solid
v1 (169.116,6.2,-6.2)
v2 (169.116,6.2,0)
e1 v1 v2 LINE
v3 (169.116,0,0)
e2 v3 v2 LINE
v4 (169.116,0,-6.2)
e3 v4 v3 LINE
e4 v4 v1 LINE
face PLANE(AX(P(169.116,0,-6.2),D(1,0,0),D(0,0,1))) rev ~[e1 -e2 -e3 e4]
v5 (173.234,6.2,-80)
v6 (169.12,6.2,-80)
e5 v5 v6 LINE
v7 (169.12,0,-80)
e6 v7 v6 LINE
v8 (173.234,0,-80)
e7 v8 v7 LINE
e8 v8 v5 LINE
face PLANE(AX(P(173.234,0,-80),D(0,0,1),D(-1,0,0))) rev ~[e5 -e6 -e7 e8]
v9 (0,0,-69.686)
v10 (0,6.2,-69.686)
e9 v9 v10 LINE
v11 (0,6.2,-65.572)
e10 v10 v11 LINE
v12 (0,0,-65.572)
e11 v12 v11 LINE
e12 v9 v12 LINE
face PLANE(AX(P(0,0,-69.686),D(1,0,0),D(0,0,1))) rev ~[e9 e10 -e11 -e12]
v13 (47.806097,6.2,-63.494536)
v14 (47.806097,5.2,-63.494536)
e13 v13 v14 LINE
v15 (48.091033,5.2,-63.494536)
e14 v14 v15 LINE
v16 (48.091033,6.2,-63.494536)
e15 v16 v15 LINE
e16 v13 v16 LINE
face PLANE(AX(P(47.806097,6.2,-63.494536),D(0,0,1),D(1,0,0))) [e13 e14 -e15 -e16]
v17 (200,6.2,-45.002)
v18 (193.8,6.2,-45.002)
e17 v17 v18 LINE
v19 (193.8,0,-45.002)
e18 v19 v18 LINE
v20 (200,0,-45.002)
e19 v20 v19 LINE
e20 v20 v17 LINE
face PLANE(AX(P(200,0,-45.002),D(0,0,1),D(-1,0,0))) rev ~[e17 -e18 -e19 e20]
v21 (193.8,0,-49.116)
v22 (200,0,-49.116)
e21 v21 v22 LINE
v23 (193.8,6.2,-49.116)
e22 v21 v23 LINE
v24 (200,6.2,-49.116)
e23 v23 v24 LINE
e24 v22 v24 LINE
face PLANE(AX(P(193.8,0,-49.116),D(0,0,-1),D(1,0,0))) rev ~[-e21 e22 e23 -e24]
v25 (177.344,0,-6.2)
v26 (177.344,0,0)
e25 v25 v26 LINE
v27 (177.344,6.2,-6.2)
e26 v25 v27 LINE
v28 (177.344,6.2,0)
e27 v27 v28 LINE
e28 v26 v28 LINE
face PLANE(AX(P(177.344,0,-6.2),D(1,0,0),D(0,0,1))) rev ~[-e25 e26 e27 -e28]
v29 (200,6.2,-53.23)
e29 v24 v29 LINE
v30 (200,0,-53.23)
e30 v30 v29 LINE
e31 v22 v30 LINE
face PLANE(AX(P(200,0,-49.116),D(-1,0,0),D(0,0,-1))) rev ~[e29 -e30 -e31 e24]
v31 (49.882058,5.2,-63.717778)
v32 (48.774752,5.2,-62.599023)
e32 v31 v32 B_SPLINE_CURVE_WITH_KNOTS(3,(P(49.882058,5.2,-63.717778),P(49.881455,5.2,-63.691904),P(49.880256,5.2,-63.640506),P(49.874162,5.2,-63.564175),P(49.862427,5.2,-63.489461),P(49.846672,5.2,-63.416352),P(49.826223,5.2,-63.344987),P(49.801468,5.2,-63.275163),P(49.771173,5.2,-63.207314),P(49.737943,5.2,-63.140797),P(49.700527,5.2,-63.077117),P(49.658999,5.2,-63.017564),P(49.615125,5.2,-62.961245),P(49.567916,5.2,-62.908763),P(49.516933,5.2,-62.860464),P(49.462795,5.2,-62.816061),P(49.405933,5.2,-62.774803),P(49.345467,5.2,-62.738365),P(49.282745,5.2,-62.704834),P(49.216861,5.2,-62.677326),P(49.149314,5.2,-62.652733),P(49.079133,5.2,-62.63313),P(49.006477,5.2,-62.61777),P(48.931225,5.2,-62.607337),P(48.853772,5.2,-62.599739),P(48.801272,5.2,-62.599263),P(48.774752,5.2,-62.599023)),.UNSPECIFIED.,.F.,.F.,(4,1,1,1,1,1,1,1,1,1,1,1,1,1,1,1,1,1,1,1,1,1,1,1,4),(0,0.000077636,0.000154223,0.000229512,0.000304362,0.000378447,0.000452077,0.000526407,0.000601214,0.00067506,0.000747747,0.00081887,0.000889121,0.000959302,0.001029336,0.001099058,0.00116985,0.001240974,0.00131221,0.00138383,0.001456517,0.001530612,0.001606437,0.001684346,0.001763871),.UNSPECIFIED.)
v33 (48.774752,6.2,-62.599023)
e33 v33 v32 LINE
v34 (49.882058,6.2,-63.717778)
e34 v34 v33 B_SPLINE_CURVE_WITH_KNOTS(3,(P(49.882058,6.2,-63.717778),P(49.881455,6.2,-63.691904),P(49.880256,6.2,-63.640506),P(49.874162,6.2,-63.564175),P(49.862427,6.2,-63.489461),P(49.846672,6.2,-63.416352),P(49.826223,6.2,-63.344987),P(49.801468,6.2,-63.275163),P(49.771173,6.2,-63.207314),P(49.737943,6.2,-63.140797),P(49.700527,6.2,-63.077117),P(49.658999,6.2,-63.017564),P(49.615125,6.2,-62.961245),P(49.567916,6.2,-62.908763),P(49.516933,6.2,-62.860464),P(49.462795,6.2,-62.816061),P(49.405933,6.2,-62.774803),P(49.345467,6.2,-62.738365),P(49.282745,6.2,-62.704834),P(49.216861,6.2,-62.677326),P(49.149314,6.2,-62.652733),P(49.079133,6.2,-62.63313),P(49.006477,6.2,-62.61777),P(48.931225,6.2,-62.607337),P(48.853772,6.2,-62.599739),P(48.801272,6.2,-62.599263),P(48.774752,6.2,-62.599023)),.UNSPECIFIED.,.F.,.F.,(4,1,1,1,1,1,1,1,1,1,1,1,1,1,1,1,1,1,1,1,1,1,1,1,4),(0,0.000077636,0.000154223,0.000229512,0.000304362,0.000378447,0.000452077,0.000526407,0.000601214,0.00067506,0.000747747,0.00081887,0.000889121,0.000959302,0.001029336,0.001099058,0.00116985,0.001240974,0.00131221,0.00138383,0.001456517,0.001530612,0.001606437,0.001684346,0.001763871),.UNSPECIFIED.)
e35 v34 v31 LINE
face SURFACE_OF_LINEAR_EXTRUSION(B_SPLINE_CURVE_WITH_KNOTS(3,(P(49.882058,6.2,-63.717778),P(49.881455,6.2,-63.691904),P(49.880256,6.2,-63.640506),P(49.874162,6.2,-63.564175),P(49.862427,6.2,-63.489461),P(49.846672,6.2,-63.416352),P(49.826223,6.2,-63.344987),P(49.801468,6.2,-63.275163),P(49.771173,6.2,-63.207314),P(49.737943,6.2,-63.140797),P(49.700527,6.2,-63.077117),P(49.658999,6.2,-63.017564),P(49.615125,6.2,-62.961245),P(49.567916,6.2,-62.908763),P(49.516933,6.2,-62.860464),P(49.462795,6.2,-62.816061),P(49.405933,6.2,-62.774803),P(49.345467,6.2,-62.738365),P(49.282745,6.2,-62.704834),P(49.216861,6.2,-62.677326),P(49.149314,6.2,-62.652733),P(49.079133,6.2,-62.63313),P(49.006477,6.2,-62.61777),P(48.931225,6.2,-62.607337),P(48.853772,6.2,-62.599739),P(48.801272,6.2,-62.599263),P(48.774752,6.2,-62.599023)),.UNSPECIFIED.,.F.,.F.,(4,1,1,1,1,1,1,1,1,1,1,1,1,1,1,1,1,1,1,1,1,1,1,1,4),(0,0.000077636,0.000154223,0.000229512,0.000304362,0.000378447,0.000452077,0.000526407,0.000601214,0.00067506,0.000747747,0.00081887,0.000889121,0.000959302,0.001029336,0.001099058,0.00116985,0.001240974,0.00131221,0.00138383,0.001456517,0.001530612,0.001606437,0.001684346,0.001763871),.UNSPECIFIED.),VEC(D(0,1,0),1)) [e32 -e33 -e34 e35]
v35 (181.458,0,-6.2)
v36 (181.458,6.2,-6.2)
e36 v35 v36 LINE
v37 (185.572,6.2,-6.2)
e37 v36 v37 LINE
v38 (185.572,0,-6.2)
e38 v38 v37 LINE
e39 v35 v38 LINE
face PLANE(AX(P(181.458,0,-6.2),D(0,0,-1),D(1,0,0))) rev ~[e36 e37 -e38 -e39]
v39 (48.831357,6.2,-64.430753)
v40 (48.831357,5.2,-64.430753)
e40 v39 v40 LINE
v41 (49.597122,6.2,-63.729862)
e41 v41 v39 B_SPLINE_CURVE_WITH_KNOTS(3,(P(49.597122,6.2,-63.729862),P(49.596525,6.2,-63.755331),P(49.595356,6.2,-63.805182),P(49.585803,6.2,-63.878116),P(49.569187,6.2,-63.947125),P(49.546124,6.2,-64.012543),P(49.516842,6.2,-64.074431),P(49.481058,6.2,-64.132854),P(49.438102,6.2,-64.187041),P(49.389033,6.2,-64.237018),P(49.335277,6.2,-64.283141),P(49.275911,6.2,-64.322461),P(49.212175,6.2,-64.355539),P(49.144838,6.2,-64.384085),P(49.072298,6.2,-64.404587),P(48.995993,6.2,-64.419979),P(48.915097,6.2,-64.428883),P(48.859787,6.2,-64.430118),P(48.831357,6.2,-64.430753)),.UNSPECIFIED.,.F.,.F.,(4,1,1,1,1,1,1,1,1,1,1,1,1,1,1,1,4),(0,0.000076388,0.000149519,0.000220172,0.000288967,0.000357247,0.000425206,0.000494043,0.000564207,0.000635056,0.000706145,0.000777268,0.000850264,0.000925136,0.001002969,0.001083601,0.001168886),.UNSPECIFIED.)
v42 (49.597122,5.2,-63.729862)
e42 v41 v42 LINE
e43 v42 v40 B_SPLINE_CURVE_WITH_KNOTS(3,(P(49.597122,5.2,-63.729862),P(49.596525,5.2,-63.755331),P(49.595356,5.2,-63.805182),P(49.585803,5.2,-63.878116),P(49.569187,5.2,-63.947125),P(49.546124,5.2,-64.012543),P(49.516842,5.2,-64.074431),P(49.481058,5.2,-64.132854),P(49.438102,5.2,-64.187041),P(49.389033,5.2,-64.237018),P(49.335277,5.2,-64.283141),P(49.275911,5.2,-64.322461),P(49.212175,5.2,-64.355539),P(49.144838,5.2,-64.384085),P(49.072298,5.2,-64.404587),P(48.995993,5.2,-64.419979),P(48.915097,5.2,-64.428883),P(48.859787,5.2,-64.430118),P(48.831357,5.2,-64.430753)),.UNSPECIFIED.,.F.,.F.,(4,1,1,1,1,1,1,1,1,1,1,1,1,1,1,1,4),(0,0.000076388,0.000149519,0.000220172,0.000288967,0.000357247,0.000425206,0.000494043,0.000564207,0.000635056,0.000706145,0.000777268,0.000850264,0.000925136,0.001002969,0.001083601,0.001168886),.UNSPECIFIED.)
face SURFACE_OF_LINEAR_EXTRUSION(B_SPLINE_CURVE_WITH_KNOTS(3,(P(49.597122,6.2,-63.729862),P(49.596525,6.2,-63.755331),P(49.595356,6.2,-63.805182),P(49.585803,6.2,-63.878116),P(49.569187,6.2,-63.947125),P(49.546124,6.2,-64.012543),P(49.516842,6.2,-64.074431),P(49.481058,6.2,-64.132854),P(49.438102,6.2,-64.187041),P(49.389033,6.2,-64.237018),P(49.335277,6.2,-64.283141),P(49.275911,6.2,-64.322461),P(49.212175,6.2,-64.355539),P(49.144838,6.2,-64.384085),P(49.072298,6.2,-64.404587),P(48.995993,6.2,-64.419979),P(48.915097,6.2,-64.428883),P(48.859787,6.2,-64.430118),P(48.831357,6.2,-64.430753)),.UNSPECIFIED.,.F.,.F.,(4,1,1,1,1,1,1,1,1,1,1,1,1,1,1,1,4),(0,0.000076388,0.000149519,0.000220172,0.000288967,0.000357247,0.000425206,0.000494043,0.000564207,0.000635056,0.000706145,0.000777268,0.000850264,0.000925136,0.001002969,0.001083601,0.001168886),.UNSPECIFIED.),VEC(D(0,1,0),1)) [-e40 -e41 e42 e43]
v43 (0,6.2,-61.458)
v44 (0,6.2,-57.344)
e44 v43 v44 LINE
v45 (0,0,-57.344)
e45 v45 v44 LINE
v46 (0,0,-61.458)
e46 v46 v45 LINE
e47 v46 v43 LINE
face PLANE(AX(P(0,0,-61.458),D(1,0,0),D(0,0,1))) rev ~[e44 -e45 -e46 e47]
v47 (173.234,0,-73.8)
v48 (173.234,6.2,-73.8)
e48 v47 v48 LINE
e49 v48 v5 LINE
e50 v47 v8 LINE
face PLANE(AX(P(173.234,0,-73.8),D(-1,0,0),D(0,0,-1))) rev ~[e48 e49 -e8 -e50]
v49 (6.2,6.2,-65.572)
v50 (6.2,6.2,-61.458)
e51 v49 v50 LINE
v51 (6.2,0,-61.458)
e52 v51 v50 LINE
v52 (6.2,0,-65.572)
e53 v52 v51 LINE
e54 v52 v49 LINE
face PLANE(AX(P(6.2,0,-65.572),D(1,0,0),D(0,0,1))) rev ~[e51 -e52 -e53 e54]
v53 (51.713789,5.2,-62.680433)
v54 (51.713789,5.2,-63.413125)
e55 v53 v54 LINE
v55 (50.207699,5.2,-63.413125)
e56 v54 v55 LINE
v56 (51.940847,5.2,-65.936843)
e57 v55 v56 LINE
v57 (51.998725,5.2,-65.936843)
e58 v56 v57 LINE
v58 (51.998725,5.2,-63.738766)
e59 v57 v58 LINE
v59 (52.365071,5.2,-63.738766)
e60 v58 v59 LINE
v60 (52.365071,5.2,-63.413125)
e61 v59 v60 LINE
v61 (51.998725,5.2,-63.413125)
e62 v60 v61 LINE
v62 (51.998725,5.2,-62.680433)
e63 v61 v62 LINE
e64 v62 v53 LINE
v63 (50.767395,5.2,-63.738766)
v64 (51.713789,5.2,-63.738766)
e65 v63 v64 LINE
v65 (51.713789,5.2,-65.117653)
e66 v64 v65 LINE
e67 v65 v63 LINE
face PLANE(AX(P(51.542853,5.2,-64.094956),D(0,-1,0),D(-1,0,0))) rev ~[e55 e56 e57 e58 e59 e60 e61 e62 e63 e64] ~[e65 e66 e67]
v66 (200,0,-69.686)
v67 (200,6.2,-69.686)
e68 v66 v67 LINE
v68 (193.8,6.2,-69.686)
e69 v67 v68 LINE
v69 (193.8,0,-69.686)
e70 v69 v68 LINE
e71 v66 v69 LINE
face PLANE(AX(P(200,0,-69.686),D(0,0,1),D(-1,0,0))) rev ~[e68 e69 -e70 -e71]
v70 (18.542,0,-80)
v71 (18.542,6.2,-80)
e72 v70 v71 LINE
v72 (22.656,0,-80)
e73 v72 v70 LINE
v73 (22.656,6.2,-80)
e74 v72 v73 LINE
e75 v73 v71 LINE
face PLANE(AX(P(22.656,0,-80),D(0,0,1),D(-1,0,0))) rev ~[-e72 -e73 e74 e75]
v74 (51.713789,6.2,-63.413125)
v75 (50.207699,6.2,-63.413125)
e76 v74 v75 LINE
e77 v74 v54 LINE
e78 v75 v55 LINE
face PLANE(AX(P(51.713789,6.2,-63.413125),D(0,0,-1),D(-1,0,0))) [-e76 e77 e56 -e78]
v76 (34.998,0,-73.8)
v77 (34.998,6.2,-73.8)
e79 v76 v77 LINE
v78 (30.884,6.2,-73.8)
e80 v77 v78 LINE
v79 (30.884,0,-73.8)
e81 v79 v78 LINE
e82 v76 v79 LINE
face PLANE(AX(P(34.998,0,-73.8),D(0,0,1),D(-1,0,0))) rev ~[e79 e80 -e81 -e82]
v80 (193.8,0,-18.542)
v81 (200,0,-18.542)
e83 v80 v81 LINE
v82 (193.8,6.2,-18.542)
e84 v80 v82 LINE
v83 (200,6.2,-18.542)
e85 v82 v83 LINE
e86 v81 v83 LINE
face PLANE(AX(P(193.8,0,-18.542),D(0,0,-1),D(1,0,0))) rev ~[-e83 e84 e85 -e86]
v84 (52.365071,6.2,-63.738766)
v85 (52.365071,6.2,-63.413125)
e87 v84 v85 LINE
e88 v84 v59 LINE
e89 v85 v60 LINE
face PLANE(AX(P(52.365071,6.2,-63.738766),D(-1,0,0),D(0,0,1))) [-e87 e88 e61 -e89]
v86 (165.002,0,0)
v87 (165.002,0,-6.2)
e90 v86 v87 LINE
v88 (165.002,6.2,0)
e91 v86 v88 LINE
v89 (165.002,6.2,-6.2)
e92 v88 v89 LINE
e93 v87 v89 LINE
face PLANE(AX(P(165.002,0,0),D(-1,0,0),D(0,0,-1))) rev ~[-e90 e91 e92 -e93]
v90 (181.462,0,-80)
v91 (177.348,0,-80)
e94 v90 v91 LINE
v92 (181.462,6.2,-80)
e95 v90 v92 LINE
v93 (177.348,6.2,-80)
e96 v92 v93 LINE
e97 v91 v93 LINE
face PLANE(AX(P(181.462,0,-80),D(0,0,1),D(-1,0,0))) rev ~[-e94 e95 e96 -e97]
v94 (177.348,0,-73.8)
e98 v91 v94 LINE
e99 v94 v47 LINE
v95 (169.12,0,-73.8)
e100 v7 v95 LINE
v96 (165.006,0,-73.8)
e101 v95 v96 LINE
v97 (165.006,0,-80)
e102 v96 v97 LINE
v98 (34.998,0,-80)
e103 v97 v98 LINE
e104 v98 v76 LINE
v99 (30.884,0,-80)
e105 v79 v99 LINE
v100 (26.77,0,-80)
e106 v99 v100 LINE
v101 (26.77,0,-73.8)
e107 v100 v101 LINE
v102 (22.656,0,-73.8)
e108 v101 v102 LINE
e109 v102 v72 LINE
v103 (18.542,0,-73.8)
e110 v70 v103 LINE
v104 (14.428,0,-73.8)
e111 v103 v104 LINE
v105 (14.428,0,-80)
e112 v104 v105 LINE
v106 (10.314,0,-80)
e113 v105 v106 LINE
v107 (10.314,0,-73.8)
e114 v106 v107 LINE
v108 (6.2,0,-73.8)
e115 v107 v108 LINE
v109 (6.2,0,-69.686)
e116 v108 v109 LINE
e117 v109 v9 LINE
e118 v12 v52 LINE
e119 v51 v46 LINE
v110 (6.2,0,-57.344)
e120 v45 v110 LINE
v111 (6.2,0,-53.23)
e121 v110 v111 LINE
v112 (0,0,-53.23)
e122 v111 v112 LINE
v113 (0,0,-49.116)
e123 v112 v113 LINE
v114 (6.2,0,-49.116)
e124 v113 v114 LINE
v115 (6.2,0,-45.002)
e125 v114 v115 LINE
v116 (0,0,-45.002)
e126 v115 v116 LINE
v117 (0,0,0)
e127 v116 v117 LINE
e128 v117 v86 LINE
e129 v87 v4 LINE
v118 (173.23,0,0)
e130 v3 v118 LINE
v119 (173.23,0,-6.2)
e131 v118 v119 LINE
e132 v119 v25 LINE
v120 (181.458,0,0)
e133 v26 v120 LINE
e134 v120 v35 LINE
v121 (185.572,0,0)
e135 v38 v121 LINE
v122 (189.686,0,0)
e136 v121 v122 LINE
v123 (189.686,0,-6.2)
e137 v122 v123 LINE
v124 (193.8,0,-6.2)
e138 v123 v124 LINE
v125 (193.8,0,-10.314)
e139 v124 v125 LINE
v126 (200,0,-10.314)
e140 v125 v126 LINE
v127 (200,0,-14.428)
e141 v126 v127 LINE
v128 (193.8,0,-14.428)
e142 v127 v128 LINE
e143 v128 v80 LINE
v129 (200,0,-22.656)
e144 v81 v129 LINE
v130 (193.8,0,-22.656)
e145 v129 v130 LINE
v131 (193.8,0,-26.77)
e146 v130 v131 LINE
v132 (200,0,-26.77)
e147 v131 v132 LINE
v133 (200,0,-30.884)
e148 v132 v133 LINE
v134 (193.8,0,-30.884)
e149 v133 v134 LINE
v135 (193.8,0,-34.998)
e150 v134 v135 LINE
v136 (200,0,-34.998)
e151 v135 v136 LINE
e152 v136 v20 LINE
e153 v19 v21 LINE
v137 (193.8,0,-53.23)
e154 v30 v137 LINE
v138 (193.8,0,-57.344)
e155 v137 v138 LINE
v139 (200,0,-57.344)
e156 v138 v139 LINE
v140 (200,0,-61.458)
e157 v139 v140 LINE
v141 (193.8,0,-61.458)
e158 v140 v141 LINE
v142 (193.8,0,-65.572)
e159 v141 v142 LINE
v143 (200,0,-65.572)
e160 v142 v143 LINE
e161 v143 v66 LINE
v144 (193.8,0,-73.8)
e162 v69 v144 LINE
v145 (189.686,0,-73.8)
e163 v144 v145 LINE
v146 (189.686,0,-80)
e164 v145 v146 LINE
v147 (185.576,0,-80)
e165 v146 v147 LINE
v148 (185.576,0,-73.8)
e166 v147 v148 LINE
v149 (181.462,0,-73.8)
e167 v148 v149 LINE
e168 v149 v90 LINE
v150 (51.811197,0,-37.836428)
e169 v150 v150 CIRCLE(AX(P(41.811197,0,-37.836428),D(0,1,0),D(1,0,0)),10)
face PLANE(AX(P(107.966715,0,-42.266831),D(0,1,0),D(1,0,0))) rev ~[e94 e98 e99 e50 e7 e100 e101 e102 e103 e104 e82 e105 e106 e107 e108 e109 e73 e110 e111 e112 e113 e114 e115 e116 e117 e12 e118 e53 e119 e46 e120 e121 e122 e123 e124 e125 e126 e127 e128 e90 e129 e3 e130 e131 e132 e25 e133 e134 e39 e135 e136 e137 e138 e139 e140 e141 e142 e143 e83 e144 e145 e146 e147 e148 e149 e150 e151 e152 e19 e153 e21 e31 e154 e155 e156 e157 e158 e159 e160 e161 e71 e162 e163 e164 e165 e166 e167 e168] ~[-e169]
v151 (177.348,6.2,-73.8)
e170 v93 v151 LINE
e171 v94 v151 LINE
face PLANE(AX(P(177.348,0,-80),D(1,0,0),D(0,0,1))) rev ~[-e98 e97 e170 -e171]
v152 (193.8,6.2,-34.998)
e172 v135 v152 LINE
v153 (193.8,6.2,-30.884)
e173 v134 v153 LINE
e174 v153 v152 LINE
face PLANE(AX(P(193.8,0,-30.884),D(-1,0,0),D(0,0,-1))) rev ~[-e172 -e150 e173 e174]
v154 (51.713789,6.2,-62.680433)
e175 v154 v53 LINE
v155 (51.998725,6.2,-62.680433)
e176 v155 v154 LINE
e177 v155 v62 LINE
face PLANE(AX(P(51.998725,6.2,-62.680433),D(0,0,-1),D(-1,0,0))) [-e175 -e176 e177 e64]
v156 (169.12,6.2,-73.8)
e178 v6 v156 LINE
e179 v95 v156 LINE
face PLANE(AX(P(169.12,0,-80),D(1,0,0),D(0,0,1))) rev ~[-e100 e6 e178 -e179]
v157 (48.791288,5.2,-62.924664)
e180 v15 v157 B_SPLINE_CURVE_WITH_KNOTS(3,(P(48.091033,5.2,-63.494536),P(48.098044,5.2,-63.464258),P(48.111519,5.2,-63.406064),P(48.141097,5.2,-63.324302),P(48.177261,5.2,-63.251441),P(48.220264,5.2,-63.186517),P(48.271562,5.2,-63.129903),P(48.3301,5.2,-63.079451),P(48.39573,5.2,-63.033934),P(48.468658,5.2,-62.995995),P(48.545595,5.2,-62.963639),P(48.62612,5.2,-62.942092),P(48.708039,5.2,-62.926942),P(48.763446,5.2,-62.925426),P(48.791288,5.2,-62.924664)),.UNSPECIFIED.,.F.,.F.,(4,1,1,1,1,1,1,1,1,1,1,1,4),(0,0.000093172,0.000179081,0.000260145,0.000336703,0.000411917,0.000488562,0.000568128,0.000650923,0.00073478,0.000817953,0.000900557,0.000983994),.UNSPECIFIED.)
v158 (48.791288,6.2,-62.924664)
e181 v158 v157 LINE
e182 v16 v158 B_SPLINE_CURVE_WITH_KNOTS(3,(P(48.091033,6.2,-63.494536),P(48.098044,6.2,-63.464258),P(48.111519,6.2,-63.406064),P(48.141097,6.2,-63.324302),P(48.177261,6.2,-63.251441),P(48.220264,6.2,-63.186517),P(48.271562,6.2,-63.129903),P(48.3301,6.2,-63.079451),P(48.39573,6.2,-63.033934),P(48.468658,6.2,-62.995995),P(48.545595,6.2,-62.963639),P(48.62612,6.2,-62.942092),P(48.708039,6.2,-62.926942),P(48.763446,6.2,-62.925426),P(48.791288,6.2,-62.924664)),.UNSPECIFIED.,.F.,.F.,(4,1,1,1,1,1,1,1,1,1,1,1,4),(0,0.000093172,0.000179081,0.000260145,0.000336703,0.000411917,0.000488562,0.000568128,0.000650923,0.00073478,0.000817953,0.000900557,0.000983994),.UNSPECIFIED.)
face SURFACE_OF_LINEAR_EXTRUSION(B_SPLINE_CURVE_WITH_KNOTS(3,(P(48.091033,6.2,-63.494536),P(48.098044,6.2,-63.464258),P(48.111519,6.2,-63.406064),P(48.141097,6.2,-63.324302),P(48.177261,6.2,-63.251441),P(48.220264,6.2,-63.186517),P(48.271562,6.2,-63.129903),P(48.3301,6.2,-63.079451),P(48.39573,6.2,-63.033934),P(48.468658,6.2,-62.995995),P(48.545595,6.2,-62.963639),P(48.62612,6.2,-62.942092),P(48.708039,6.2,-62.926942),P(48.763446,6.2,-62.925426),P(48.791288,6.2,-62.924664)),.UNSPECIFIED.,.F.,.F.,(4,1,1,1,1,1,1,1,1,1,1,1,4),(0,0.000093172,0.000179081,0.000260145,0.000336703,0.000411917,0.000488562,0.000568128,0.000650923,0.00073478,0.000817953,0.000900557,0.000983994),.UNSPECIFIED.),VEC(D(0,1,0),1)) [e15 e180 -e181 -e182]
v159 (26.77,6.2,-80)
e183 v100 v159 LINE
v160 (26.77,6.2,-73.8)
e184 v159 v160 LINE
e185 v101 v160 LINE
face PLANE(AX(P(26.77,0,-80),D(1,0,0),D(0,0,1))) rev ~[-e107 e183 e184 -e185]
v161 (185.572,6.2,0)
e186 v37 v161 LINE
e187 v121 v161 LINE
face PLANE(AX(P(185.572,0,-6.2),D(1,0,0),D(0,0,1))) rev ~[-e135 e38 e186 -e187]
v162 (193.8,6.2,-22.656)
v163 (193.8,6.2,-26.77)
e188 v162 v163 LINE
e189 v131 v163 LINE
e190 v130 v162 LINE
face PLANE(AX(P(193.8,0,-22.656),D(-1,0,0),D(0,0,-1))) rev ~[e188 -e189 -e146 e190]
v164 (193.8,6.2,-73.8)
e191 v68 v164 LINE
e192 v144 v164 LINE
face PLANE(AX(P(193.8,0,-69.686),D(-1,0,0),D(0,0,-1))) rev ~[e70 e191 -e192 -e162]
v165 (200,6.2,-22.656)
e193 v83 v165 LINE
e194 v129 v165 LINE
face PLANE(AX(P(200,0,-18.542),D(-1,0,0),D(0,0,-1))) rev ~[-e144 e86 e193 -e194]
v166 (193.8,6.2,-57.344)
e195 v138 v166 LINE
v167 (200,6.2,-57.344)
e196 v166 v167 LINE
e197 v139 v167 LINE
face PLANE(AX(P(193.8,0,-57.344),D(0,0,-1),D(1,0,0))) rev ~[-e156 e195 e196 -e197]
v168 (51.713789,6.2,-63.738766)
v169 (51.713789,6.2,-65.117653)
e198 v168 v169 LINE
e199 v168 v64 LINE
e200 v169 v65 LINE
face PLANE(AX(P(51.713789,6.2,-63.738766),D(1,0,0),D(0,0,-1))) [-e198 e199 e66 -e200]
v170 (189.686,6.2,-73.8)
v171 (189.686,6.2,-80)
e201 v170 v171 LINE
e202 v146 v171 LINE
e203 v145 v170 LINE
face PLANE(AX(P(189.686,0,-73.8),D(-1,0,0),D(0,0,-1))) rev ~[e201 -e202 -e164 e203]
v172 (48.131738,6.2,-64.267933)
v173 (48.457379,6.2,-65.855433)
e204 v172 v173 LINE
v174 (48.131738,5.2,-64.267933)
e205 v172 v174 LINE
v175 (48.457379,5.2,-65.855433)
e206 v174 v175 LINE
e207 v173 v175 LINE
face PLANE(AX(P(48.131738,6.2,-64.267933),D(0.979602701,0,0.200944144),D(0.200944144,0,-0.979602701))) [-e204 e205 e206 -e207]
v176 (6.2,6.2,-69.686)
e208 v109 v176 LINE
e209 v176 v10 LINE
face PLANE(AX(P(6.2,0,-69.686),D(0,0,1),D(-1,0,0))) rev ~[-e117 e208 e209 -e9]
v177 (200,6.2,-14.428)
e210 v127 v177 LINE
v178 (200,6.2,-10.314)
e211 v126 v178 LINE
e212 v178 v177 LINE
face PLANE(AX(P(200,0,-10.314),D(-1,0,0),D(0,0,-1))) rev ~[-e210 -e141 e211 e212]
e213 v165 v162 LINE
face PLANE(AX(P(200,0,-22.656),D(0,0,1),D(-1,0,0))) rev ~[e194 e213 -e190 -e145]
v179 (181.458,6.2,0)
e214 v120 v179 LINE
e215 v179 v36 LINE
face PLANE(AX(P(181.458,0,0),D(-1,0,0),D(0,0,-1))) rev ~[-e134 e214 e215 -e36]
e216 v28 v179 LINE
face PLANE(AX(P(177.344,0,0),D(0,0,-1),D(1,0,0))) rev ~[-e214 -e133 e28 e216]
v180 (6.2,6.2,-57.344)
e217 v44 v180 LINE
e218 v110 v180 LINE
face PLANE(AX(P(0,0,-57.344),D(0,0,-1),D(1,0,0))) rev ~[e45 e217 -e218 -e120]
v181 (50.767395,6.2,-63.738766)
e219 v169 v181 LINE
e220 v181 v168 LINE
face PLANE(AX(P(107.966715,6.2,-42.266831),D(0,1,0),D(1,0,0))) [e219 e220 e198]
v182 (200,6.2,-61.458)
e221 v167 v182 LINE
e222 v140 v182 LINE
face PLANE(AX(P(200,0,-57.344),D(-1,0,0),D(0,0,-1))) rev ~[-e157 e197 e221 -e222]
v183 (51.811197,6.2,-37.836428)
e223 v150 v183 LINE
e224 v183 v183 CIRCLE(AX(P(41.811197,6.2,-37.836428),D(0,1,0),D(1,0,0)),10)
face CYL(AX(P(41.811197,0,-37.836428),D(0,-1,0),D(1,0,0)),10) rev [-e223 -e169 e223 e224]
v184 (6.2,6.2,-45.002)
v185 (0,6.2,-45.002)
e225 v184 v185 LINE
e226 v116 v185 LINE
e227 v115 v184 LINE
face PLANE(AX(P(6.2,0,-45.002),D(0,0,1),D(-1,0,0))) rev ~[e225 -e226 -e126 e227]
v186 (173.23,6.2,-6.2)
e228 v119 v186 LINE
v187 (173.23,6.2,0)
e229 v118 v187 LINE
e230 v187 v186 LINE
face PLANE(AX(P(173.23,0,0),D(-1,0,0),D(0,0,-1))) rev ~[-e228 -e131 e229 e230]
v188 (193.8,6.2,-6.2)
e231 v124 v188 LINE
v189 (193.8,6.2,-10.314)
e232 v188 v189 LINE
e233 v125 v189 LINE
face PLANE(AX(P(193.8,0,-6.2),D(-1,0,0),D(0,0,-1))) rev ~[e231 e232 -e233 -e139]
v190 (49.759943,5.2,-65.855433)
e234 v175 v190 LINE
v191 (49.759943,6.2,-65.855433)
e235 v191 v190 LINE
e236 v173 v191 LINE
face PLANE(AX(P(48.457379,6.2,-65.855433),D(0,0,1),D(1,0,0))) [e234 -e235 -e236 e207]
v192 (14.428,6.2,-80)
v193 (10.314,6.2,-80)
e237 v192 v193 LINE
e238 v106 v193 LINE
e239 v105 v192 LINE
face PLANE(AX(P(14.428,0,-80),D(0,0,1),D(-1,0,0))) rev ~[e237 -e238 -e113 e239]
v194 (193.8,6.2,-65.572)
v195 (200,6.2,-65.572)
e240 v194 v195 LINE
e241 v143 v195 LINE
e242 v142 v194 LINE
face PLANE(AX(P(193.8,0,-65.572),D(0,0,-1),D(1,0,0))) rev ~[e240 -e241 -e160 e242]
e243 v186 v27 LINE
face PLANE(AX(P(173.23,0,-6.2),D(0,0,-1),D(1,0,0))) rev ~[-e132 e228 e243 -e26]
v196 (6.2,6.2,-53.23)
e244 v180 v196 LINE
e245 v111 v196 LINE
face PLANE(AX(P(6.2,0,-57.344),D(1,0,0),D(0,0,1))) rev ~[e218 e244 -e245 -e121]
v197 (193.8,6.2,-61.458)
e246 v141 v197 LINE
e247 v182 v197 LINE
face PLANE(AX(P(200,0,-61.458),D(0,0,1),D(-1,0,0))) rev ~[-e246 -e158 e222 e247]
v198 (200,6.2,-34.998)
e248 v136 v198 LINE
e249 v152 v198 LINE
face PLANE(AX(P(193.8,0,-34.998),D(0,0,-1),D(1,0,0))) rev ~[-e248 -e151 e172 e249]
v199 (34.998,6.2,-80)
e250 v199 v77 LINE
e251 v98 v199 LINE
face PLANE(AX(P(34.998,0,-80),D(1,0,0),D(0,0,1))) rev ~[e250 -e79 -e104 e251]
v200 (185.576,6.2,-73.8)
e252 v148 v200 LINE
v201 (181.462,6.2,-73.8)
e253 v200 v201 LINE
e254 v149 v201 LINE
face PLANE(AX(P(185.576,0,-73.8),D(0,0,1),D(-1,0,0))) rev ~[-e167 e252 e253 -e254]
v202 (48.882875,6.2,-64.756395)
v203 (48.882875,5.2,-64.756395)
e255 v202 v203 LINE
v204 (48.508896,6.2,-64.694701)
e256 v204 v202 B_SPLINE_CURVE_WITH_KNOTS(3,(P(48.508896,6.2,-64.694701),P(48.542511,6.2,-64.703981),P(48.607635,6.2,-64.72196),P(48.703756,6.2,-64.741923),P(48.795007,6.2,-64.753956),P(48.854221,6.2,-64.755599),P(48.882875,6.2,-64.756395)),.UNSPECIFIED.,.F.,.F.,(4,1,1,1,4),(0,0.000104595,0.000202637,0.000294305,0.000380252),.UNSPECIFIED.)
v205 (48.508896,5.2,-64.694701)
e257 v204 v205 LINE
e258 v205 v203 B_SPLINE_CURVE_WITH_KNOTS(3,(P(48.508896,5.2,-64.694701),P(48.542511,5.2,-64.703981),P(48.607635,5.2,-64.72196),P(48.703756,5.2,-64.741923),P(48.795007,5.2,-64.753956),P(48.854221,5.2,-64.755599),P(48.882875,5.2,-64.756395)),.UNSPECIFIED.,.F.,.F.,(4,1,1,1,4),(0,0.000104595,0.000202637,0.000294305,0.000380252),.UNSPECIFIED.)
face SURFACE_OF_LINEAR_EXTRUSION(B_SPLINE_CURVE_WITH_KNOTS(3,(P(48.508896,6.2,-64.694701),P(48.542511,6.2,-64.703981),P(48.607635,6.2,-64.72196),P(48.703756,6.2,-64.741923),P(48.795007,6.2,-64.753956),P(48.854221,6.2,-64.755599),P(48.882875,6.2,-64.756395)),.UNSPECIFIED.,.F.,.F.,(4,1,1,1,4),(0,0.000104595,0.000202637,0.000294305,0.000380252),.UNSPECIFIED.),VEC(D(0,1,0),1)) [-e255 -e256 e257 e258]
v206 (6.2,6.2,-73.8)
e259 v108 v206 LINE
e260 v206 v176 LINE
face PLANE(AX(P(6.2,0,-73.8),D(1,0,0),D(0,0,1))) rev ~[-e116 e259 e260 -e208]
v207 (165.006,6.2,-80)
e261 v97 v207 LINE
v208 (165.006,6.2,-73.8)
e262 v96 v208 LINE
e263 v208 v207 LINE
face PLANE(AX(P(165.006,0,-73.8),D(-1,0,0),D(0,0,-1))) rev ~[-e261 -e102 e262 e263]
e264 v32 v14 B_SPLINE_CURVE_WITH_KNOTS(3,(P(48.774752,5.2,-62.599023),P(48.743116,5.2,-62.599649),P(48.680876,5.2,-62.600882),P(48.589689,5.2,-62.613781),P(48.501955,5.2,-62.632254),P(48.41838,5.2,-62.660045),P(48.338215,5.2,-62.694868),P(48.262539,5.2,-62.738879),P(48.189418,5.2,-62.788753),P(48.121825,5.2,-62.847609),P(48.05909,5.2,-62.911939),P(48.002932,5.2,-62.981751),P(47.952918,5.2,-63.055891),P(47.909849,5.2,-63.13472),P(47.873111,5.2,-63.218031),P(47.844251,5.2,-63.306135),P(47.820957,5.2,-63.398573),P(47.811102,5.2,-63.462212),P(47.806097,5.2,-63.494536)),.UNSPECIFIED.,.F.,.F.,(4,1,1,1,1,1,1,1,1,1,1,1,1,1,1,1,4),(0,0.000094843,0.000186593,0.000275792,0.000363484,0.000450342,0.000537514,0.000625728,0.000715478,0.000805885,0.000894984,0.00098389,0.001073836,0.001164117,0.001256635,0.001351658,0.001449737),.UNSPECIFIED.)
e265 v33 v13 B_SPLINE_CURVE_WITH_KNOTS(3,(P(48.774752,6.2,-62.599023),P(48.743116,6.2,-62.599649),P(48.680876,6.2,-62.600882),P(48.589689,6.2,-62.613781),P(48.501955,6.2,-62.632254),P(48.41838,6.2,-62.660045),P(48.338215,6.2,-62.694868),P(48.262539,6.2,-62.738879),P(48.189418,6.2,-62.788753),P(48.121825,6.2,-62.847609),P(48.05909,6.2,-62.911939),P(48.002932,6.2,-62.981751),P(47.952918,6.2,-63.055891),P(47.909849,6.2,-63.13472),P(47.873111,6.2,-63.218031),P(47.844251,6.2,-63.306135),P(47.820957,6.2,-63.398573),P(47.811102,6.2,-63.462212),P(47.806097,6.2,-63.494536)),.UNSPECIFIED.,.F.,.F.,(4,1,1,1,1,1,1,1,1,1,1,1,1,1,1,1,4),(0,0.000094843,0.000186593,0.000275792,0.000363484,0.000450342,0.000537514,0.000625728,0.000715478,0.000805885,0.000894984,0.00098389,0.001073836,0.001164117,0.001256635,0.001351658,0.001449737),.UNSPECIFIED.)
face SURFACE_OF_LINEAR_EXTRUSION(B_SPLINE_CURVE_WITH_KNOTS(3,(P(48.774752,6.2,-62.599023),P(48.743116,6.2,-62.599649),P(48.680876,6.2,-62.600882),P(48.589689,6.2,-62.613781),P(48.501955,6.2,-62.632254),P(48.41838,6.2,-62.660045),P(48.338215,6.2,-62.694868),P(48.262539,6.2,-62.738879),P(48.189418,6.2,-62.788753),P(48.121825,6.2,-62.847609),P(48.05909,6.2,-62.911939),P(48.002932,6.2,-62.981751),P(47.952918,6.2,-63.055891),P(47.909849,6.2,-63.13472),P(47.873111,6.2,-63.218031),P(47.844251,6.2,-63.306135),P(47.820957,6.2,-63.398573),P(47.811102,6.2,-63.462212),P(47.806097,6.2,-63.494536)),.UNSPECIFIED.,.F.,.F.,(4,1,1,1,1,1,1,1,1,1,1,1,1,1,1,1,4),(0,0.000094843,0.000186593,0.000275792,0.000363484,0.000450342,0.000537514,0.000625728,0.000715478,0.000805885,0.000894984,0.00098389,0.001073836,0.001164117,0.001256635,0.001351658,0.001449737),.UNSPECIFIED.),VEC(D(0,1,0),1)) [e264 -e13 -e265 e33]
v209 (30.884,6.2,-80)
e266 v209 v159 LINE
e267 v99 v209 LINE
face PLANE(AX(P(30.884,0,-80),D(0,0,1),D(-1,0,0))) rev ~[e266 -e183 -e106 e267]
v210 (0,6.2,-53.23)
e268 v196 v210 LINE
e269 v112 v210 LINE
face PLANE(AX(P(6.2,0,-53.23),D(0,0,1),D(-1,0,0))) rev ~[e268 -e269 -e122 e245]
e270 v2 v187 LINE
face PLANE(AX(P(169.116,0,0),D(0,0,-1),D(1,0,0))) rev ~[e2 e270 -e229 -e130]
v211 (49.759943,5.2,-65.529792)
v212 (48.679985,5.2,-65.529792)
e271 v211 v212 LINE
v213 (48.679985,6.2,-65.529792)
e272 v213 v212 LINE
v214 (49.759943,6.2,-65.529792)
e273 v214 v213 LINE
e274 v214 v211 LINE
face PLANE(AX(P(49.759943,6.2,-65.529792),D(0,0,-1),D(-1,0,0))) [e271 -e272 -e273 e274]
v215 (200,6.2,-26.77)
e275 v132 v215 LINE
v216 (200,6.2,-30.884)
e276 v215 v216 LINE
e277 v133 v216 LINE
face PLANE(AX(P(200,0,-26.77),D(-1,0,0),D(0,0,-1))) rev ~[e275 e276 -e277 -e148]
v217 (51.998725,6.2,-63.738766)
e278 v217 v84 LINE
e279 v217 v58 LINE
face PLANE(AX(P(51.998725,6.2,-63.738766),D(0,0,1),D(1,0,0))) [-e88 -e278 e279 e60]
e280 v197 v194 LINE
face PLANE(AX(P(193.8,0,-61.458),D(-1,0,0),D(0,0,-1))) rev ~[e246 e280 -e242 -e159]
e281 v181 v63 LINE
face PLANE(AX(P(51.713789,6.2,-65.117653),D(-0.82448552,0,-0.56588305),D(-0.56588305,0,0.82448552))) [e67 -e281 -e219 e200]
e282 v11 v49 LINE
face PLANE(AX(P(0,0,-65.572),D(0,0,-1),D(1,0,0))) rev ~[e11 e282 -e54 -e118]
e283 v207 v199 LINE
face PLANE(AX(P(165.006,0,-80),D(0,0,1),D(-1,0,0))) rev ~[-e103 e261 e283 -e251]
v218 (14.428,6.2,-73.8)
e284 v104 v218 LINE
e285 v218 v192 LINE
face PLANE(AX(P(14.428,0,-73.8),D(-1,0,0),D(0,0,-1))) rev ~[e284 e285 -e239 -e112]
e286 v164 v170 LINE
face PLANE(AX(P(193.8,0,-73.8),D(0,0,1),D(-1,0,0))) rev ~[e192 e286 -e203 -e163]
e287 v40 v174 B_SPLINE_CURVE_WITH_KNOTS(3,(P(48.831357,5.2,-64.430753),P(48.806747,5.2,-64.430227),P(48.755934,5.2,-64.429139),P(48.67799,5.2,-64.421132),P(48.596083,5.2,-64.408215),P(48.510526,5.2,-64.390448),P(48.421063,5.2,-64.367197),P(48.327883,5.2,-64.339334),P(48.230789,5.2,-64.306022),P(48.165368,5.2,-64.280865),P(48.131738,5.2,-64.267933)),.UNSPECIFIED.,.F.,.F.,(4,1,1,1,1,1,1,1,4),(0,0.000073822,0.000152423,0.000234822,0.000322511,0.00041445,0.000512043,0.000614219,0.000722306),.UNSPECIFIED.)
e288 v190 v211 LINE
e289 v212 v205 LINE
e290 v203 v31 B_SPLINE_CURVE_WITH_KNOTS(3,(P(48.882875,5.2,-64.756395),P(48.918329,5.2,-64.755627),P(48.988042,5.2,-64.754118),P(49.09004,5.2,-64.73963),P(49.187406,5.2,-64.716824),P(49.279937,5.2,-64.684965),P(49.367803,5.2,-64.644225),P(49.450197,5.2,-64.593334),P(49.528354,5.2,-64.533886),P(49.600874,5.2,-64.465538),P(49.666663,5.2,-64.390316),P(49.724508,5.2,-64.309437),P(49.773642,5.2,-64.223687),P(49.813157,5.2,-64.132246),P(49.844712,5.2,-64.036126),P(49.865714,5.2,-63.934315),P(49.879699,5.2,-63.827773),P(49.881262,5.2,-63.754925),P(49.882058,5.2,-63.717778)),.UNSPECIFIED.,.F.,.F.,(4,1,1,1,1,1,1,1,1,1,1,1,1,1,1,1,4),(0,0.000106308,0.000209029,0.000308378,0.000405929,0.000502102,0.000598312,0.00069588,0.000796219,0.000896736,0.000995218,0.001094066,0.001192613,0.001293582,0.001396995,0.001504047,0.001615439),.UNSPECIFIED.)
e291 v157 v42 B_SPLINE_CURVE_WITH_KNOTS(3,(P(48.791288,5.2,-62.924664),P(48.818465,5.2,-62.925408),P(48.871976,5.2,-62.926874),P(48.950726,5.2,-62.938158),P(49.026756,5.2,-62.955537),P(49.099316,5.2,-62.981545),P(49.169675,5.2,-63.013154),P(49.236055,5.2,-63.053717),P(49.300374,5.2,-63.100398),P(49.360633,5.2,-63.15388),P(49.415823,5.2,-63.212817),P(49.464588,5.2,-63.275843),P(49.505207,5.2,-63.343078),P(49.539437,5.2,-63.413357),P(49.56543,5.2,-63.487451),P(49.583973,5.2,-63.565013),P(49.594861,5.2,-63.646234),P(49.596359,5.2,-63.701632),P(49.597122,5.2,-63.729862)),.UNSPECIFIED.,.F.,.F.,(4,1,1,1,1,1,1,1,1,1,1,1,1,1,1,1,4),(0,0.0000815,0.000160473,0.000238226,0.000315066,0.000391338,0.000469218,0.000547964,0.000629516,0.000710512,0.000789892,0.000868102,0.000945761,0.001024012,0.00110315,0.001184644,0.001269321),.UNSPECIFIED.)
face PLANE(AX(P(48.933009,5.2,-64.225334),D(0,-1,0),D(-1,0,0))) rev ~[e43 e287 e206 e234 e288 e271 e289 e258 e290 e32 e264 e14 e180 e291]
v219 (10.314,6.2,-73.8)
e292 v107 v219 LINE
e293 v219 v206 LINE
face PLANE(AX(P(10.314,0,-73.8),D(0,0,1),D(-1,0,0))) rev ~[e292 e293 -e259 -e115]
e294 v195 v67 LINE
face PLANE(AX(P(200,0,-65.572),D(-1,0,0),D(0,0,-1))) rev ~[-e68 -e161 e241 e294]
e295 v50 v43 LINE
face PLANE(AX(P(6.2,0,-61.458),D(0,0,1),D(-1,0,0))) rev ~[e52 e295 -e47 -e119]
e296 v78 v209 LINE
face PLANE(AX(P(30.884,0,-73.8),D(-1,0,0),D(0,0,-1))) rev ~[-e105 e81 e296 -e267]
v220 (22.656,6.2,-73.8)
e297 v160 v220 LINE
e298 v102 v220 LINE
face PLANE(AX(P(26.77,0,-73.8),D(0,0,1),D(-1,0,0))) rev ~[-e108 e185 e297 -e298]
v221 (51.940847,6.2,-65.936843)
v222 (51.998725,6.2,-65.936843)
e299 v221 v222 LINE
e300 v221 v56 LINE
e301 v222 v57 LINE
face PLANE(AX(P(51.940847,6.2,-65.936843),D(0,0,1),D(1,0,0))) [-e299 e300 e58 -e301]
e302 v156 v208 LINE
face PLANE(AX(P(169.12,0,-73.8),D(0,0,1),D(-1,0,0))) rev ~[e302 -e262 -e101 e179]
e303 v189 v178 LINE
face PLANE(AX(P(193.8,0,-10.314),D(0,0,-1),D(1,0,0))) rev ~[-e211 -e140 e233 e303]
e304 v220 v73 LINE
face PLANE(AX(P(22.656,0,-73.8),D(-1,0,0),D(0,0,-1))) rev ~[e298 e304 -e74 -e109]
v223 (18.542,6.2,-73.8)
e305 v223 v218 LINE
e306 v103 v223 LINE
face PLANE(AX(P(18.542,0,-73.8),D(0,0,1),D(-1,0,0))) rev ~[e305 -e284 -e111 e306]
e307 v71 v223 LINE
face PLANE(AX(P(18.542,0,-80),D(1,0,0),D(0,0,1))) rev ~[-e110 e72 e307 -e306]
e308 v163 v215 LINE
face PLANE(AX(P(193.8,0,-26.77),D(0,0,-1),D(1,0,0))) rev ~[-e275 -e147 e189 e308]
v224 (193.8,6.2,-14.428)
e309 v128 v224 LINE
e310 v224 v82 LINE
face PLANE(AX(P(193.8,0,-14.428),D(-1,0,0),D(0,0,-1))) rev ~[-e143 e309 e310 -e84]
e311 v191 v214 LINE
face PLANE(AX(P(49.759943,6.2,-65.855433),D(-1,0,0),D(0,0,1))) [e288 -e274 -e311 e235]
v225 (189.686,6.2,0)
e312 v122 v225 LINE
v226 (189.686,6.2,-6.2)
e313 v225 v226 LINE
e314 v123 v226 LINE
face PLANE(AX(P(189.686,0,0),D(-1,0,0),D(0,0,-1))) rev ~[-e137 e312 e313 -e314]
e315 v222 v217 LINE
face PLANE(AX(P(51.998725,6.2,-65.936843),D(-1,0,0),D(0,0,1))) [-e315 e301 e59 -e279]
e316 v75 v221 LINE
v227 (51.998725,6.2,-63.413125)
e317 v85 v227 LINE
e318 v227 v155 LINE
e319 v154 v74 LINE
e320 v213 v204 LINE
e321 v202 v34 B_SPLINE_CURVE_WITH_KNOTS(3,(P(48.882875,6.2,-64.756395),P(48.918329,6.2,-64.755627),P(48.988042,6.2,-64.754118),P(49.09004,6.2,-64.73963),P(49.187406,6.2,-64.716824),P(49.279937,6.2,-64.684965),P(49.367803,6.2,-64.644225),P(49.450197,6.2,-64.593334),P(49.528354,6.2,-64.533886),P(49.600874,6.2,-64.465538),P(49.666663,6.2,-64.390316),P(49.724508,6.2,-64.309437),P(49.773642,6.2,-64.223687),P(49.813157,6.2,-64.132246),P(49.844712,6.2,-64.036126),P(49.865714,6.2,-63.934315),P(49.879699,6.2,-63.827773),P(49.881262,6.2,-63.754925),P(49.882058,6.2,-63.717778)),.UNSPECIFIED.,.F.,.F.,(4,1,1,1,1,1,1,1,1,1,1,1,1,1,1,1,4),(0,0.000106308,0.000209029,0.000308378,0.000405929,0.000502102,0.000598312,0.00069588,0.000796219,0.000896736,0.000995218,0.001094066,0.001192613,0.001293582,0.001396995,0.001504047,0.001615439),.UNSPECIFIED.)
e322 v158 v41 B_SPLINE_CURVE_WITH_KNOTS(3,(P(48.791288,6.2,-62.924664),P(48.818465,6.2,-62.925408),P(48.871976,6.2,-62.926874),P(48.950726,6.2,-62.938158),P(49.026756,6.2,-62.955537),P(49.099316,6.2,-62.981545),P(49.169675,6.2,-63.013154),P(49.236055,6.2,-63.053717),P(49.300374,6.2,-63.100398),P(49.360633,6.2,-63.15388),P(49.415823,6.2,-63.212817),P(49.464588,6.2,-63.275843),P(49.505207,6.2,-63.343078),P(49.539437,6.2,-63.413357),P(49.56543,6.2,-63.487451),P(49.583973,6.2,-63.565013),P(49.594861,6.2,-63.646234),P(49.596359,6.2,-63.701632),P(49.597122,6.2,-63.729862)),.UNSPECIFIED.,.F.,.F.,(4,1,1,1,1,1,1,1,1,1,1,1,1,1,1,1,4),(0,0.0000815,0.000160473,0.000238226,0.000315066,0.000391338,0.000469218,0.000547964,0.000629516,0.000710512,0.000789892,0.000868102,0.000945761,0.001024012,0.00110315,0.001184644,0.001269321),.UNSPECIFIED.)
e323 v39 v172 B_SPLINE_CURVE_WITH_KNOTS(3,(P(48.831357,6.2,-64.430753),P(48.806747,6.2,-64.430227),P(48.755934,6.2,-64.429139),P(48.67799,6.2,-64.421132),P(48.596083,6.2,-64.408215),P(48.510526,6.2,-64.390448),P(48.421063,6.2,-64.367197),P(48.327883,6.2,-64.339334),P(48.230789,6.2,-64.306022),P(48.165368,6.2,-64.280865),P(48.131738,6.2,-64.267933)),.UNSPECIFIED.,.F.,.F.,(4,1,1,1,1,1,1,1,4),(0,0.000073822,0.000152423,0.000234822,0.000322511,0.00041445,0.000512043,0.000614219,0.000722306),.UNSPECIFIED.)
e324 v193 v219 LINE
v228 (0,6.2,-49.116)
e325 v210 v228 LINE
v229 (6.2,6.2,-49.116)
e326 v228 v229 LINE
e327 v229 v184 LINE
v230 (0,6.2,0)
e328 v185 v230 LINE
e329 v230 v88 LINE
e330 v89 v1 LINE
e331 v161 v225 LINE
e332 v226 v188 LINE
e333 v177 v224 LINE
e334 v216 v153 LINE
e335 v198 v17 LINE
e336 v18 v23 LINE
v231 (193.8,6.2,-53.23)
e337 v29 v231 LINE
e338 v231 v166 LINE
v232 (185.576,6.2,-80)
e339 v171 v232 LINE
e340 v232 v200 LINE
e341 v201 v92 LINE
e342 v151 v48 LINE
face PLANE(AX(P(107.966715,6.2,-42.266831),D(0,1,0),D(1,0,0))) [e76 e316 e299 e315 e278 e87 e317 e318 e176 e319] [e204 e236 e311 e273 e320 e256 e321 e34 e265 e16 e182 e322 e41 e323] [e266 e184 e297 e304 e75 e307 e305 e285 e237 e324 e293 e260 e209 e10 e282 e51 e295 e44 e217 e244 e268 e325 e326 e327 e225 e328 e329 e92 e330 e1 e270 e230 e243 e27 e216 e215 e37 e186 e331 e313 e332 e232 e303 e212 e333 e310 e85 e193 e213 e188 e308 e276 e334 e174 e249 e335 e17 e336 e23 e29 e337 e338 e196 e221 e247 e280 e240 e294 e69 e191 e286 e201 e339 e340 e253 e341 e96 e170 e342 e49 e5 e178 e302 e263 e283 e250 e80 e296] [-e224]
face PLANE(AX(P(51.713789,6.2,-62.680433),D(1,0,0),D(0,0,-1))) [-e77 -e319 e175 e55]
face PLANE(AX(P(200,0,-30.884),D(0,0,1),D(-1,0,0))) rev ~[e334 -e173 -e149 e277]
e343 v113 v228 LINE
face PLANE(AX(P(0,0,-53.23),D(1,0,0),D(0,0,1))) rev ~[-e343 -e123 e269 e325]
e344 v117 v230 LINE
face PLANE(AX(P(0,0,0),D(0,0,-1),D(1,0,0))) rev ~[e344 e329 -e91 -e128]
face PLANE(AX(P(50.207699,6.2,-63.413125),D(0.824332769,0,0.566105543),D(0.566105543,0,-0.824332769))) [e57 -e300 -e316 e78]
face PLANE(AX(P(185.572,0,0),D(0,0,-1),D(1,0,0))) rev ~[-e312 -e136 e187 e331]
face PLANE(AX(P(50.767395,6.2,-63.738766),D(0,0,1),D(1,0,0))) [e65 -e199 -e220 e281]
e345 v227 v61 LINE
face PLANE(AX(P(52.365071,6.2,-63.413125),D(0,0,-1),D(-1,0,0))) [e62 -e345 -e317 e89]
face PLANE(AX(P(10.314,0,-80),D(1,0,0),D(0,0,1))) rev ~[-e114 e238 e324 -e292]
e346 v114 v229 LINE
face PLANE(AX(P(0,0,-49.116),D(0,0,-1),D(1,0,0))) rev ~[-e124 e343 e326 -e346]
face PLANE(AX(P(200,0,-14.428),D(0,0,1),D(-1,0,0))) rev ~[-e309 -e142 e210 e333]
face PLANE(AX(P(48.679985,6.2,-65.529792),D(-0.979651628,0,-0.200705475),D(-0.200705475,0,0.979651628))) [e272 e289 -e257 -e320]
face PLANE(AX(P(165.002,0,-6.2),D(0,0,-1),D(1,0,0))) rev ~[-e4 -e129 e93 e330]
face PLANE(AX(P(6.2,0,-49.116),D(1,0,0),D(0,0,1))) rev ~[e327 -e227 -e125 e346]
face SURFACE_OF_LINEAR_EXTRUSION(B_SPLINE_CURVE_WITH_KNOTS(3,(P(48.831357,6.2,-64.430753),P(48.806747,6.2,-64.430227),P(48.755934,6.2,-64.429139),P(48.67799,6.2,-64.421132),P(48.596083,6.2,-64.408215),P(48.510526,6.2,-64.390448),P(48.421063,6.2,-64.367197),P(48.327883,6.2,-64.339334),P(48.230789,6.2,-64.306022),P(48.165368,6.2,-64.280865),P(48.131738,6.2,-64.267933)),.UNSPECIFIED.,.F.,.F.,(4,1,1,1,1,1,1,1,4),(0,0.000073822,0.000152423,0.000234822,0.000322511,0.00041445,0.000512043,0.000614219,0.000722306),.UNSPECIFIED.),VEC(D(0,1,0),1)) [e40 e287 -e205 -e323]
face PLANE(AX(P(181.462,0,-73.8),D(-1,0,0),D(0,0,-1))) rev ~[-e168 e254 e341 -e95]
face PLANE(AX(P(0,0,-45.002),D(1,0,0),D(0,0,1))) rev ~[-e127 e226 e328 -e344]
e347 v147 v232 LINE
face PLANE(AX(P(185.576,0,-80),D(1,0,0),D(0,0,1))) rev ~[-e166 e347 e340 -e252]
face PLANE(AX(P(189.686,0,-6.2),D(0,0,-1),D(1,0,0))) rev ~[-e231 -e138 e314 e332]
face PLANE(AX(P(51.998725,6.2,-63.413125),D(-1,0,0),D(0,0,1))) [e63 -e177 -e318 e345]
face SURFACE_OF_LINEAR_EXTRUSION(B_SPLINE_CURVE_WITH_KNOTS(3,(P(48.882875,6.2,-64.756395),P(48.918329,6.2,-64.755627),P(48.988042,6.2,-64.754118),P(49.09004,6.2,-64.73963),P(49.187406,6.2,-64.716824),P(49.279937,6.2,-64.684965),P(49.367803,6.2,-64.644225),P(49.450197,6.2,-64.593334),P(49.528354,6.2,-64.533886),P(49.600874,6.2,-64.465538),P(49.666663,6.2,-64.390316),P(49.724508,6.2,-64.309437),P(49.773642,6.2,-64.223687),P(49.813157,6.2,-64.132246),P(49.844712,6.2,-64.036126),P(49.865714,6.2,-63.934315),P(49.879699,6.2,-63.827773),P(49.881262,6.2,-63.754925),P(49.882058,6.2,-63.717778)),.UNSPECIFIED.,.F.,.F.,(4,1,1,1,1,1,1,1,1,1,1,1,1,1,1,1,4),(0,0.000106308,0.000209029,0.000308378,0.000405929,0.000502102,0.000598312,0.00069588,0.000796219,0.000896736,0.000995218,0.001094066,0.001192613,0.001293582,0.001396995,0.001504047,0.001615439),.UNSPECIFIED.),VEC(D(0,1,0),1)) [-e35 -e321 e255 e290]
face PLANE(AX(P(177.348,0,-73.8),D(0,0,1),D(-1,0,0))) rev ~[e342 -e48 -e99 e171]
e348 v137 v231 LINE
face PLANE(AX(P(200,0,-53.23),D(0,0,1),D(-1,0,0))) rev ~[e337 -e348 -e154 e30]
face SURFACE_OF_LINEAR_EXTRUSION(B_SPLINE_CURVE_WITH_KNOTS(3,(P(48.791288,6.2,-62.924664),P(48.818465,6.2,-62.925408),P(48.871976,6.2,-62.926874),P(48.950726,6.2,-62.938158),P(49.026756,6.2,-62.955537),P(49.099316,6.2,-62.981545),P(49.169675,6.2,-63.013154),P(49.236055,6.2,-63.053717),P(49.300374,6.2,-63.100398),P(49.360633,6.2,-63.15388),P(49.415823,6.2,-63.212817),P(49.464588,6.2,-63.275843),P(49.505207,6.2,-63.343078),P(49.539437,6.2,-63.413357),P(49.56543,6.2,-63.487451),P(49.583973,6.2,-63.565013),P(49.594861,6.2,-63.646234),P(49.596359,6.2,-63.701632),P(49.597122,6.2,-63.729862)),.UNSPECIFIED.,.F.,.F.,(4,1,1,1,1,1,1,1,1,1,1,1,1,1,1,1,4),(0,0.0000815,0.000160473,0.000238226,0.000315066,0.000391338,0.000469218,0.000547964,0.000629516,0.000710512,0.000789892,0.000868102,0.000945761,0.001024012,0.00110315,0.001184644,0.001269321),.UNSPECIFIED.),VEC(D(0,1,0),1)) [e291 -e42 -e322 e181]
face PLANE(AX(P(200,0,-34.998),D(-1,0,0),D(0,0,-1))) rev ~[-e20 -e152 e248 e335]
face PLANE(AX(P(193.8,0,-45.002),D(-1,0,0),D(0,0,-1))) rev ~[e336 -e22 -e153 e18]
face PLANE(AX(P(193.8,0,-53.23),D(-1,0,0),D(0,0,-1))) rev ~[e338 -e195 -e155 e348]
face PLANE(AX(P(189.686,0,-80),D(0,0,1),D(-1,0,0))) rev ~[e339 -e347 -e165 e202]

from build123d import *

# Parameters (mm, degrees)
SKETCH1_R           = 10
BOSS_EXTRUDE1_DEPTH = 6.2
CUT_EXTRUDE1_DEPTH  = 1


with BuildPart() as part:
    # Sketch1 → Boss-Extrude1 (new body)
    with BuildSketch(Plane(origin=(0, 0, 0), x_dir=(1, 0, 0), z_dir=(0, 1, 0))):
        Polygon((0, 45.002), (0, 0), (165.002, 0), (165.002, 6.2), (169.116, 6.2), (169.116, 0), (173.23, 0), (173.23, 6.2), (177.344, 6.2), (177.344, 0), (181.458, 0), (181.458, 6.2), (185.572, 6.2), (185.572, 0), (189.686, 0), (189.686, 6.2), (193.8, 6.2), (193.8, 10.314), (200, 10.314), (200, 14.428), (193.8, 14.428), (193.8, 18.542), (200, 18.542), (200, 22.656), (193.8, 22.656), (193.8, 26.77), (200, 26.77), (200, 30.884), (193.8, 30.884), (193.8, 34.998), (200, 34.998), (200, 45.002), (193.8, 45.002), (193.8, 49.116), (200, 49.116), (200, 53.23), (193.8, 53.23), (193.8, 57.344), (200, 57.344), (200, 61.458), (193.8, 61.458), (193.8, 65.572), (200, 65.572), (200, 69.686), (193.8, 69.686), (193.8, 73.8), (189.686, 73.8), (189.686, 80), (185.576, 80), (185.576, 73.8), (181.462, 73.8), (181.462, 80), (177.348, 80), (177.348, 73.8), (173.234, 73.8), (173.234, 80), (169.12, 80), (169.12, 73.8), (165.006, 73.8), (165.006, 80), (34.998, 80), (34.998, 73.8), (30.884, 73.8), (30.884, 80), (26.77, 80), (26.77, 73.8), (22.656, 73.8), (22.656, 80), (18.542, 80), (18.542, 73.8), (14.428, 73.8), (14.428, 80), (10.314, 80), (10.314, 73.8), (6.2, 73.8), (6.2, 69.686), (0, 69.686), (0, 65.572), (6.2, 65.572), (6.2, 61.458), (0, 61.458), (0, 57.344), (6.2, 57.344), (6.2, 53.23), (0, 53.23), (0, 49.116), (6.2, 49.116), (6.2, 45.002), align=None)
        with Locations((41.81119745, 37.836428286)):
            Circle(SKETCH1_R, mode=Mode.SUBTRACT)
    extrude(amount=BOSS_EXTRUDE1_DEPTH)

    # Sketch2 → Cut-Extrude1 (cut)
    with BuildSketch(Plane(origin=(0, 6.2, 0), x_dir=(1, 0, 0), z_dir=(0, 1, 0))):
        with BuildLine():
            Line((49.75994289, 65.855432978), (49.75994289, 65.529791952))
            Line((49.75994289, 65.529791952), (48.679984958, 65.529791952))
            Line((48.679984958, 65.529791952), (48.508896216, 64.694700807))
            add(Edge.make_bspline(
                [(48.508896216, 64.694700807), (48.542511188, 64.703981125), (48.607634879, 64.721960273), (48.70375561, 64.74192265), (48.795007109, 64.753956303), (48.854221195, 64.755599421), (48.882874581, 64.756394517)],
                knots=[0, 0, 0, 0, 0.000104595, 0.000202637, 0.000294305, 0.000380252, 0.000380252, 0.000380252, 0.000380252], degree=3))
            add(Edge.make_bspline(
                [(48.882874581, 64.756394517), (48.918329116, 64.755627132), (48.988041591, 64.754118262), (49.090039779, 64.739629513), (49.187406046, 64.716824019), (49.279936768, 64.684964689), (49.367803124, 64.644225145), (49.450196698, 64.593334485), (49.528354233, 64.533886392), (49.600873586, 64.465537702), (49.666663495, 64.39031595), (49.724508357, 64.309437024), (49.773641564, 64.22368693), (49.813157391, 64.132246378), (49.844711752, 64.036126289), (49.865713918, 63.934315303), (49.879699076, 63.82777308), (49.881261526, 63.754925363), (49.882058275, 63.71777773)],
                knots=[0, 0, 0, 0, 0.000106308, 0.000209029, 0.000308378, 0.000405929, 0.000502102, 0.000598312, 0.00069588, 0.000796219, 0.000896736, 0.000995218, 0.001094066, 0.001192613, 0.001293582, 0.001396995, 0.001504047, 0.001615439, 0.001615439, 0.001615439, 0.001615439], degree=3))
            add(Edge.make_bspline(
                [(49.882058275, 63.71777773), (49.881454957, 63.691904001), (49.880256474, 63.640506205), (49.874161755, 63.564175395), (49.862427212, 63.489460539), (49.846672205, 63.416351726), (49.826223012, 63.344987367), (49.801467942, 63.275163196), (49.771172974, 63.207313802), (49.737943083, 63.140797194), (49.700526636, 63.07711712), (49.65899899, 63.01756411), (49.61512458, 62.961244798), (49.567915609, 62.908763197), (49.516933277, 62.860464174), (49.462795022, 62.81606109), (49.405932841, 62.774803026), (49.345467014, 62.738364735), (49.282744904, 62.704834053), (49.216860736, 62.677326273), (49.149314243, 62.652733151), (49.079133249, 62.633130222), (49.006476719, 62.617769976), (48.931224887, 62.607337289), (48.853772422, 62.599738663), (48.801271518, 62.599262997), (48.774751584, 62.599022722)],
                knots=[0, 0, 0, 0, 7.7636e-05, 0.000154223, 0.000229512, 0.000304362, 0.000378447, 0.000452077, 0.000526407, 0.000601214, 0.00067506, 0.000747747, 0.00081887, 0.000889121, 0.000959302, 0.001029336, 0.001099058, 0.00116985, 0.001240974, 0.00131221, 0.00138383, 0.001456517, 0.001530612, 0.001606437, 0.001684346, 0.001763871, 0.001763871, 0.001763871, 0.001763871], degree=3))
            add(Edge.make_bspline(
                [(48.774751584, 62.599022722), (48.74311572, 62.59964941), (48.680875895, 62.600882346), (48.589689381, 62.613780544), (48.501955417, 62.632253525), (48.418380254, 62.660044998), (48.338214893, 62.694867759), (48.262538571, 62.738878857), (48.189417617, 62.788752758), (48.121824555, 62.847608507), (48.059090081, 62.911939162), (48.002932033, 62.981750736), (47.952918003, 63.055891016), (47.909848904, 63.134720055), (47.873111413, 63.218030723), (47.844250674, 63.306135159), (47.820956738, 63.39857302), (47.811102063, 63.462212276), (47.806096737, 63.494535542)],
                knots=[0, 0, 0, 0, 9.4843e-05, 0.000186593, 0.000275792, 0.000363484, 0.000450342, 0.000537514, 0.000625728, 0.000715478, 0.000805885, 0.000894984, 0.00098389, 0.001073836, 0.001164117, 0.001256635, 0.001351658, 0.001449737, 0.001449737, 0.001449737, 0.001449737], degree=3))
            Line((47.806096737, 63.494535542), (48.091032634, 63.494535542))
            add(Edge.make_bspline(
                [(48.091032634, 63.494535542), (48.09804354, 63.464258332), (48.11151889, 63.406063852), (48.141096962, 63.32430185), (48.177261006, 63.25144084), (48.220263522, 63.186517003), (48.271562478, 63.129903127), (48.330099889, 63.079450507), (48.395729609, 63.033934497), (48.468657753, 62.995995272), (48.545595332, 62.963638617), (48.626119873, 62.942092437), (48.708038815, 62.926942341), (48.763445623, 62.925425815), (48.791288043, 62.924663747)],
                knots=[0, 0, 0, 0, 9.3172e-05, 0.000179081, 0.000260145, 0.000336703, 0.000411917, 0.000488562, 0.000568128, 0.000650923, 0.00073478, 0.000817953, 0.000900557, 0.000983994, 0.000983994, 0.000983994, 0.000983994], degree=3))
            add(Edge.make_bspline(
                [(48.791288043, 62.924663747), (48.818464632, 62.92540831), (48.871975557, 62.92687436), (48.950725887, 62.938158321), (49.026756137, 62.955536975), (49.099316096, 62.981544629), (49.169675493, 63.013153767), (49.236054556, 63.053716729), (49.300373595, 63.100398317), (49.360633401, 63.153880403), (49.415823473, 63.212817197), (49.464587955, 63.275843118), (49.505207012, 63.343077686), (49.539437239, 63.413356903), (49.565429874, 63.487451023), (49.583972765, 63.565012803), (49.594861254, 63.646233821), (49.59635911, 63.701632409), (49.597122378, 63.729862065)],
                knots=[0, 0, 0, 0, 8.15e-05, 0.000160473, 0.000238226, 0.000315066, 0.000391338, 0.000469218, 0.000547964, 0.000629516, 0.000710512, 0.000789892, 0.000868102, 0.000945761, 0.001024012, 0.00110315, 0.001184644, 0.001269321, 0.001269321, 0.001269321, 0.001269321], degree=3))
            add(Edge.make_bspline(
                [(49.597122378, 63.729862065), (49.596525043, 63.755330782), (49.595355845, 63.805182173), (49.585803113, 63.878115739), (49.569187002, 63.947124856), (49.546123911, 64.012542768), (49.516841786, 64.074431176), (49.481058346, 64.132853952), (49.438102049, 64.187041073), (49.389032979, 64.237017889), (49.33527747, 64.283141454), (49.275910647, 64.322460733), (49.212174856, 64.355538715), (49.144838005, 64.384084685), (49.072298418, 64.40458679), (48.995992616, 64.419979086), (48.915096602, 64.428883022), (48.859787478, 64.430118449), (48.831357153, 64.430753491)],
                knots=[0, 0, 0, 0, 7.6388e-05, 0.000149519, 0.000220172, 0.000288967, 0.000357247, 0.000425206, 0.000494043, 0.000564207, 0.000635056, 0.000706145, 0.000777268, 0.000850264, 0.000925136, 0.001002969, 0.001083601, 0.001168886, 0.001168886, 0.001168886, 0.001168886], degree=3))
            add(Edge.make_bspline(
                [(48.831357153, 64.430753491), (48.806747339, 64.430226812), (48.755934317, 64.429139353), (48.677990038, 64.421132459), (48.596082547, 64.408215385), (48.510525826, 64.390447861), (48.421062936, 64.367196813), (48.327882673, 64.339334373), (48.230789117, 64.306022274), (48.165368038, 64.280865194), (48.131737762, 64.267932978)],
                knots=[0, 0, 0, 0, 7.3822e-05, 0.000152423, 0.000234822, 0.000322511, 0.00041445, 0.000512043, 0.000614219, 0.000722306, 0.000722306, 0.000722306, 0.000722306], degree=3))
            Line((48.131737762, 64.267932978), (48.457378788, 65.855432978))
            Line((48.457378788, 65.855432978), (49.75994289, 65.855432978))
        make_face()
        Polygon((51.940847338, 65.936843234), (51.998724942, 65.936843234), (51.998724942, 63.738766311), (52.365071096, 63.738766311), (52.365071096, 63.413125286), (51.998724942, 63.413125286), (51.998724942, 62.680432978), (51.713789044, 62.680432978), (51.713789044, 63.413125286), (50.207699301, 63.413125286), align=None)
        Polygon((51.713789044, 63.738766311), (51.713789044, 65.117652529), (50.767394814, 63.738766311), align=None, mode=Mode.SUBTRACT)
    extrude(amount=-CUT_EXTRUDE1_DEPTH, mode=Mode.SUBTRACT)


solid = part.part
